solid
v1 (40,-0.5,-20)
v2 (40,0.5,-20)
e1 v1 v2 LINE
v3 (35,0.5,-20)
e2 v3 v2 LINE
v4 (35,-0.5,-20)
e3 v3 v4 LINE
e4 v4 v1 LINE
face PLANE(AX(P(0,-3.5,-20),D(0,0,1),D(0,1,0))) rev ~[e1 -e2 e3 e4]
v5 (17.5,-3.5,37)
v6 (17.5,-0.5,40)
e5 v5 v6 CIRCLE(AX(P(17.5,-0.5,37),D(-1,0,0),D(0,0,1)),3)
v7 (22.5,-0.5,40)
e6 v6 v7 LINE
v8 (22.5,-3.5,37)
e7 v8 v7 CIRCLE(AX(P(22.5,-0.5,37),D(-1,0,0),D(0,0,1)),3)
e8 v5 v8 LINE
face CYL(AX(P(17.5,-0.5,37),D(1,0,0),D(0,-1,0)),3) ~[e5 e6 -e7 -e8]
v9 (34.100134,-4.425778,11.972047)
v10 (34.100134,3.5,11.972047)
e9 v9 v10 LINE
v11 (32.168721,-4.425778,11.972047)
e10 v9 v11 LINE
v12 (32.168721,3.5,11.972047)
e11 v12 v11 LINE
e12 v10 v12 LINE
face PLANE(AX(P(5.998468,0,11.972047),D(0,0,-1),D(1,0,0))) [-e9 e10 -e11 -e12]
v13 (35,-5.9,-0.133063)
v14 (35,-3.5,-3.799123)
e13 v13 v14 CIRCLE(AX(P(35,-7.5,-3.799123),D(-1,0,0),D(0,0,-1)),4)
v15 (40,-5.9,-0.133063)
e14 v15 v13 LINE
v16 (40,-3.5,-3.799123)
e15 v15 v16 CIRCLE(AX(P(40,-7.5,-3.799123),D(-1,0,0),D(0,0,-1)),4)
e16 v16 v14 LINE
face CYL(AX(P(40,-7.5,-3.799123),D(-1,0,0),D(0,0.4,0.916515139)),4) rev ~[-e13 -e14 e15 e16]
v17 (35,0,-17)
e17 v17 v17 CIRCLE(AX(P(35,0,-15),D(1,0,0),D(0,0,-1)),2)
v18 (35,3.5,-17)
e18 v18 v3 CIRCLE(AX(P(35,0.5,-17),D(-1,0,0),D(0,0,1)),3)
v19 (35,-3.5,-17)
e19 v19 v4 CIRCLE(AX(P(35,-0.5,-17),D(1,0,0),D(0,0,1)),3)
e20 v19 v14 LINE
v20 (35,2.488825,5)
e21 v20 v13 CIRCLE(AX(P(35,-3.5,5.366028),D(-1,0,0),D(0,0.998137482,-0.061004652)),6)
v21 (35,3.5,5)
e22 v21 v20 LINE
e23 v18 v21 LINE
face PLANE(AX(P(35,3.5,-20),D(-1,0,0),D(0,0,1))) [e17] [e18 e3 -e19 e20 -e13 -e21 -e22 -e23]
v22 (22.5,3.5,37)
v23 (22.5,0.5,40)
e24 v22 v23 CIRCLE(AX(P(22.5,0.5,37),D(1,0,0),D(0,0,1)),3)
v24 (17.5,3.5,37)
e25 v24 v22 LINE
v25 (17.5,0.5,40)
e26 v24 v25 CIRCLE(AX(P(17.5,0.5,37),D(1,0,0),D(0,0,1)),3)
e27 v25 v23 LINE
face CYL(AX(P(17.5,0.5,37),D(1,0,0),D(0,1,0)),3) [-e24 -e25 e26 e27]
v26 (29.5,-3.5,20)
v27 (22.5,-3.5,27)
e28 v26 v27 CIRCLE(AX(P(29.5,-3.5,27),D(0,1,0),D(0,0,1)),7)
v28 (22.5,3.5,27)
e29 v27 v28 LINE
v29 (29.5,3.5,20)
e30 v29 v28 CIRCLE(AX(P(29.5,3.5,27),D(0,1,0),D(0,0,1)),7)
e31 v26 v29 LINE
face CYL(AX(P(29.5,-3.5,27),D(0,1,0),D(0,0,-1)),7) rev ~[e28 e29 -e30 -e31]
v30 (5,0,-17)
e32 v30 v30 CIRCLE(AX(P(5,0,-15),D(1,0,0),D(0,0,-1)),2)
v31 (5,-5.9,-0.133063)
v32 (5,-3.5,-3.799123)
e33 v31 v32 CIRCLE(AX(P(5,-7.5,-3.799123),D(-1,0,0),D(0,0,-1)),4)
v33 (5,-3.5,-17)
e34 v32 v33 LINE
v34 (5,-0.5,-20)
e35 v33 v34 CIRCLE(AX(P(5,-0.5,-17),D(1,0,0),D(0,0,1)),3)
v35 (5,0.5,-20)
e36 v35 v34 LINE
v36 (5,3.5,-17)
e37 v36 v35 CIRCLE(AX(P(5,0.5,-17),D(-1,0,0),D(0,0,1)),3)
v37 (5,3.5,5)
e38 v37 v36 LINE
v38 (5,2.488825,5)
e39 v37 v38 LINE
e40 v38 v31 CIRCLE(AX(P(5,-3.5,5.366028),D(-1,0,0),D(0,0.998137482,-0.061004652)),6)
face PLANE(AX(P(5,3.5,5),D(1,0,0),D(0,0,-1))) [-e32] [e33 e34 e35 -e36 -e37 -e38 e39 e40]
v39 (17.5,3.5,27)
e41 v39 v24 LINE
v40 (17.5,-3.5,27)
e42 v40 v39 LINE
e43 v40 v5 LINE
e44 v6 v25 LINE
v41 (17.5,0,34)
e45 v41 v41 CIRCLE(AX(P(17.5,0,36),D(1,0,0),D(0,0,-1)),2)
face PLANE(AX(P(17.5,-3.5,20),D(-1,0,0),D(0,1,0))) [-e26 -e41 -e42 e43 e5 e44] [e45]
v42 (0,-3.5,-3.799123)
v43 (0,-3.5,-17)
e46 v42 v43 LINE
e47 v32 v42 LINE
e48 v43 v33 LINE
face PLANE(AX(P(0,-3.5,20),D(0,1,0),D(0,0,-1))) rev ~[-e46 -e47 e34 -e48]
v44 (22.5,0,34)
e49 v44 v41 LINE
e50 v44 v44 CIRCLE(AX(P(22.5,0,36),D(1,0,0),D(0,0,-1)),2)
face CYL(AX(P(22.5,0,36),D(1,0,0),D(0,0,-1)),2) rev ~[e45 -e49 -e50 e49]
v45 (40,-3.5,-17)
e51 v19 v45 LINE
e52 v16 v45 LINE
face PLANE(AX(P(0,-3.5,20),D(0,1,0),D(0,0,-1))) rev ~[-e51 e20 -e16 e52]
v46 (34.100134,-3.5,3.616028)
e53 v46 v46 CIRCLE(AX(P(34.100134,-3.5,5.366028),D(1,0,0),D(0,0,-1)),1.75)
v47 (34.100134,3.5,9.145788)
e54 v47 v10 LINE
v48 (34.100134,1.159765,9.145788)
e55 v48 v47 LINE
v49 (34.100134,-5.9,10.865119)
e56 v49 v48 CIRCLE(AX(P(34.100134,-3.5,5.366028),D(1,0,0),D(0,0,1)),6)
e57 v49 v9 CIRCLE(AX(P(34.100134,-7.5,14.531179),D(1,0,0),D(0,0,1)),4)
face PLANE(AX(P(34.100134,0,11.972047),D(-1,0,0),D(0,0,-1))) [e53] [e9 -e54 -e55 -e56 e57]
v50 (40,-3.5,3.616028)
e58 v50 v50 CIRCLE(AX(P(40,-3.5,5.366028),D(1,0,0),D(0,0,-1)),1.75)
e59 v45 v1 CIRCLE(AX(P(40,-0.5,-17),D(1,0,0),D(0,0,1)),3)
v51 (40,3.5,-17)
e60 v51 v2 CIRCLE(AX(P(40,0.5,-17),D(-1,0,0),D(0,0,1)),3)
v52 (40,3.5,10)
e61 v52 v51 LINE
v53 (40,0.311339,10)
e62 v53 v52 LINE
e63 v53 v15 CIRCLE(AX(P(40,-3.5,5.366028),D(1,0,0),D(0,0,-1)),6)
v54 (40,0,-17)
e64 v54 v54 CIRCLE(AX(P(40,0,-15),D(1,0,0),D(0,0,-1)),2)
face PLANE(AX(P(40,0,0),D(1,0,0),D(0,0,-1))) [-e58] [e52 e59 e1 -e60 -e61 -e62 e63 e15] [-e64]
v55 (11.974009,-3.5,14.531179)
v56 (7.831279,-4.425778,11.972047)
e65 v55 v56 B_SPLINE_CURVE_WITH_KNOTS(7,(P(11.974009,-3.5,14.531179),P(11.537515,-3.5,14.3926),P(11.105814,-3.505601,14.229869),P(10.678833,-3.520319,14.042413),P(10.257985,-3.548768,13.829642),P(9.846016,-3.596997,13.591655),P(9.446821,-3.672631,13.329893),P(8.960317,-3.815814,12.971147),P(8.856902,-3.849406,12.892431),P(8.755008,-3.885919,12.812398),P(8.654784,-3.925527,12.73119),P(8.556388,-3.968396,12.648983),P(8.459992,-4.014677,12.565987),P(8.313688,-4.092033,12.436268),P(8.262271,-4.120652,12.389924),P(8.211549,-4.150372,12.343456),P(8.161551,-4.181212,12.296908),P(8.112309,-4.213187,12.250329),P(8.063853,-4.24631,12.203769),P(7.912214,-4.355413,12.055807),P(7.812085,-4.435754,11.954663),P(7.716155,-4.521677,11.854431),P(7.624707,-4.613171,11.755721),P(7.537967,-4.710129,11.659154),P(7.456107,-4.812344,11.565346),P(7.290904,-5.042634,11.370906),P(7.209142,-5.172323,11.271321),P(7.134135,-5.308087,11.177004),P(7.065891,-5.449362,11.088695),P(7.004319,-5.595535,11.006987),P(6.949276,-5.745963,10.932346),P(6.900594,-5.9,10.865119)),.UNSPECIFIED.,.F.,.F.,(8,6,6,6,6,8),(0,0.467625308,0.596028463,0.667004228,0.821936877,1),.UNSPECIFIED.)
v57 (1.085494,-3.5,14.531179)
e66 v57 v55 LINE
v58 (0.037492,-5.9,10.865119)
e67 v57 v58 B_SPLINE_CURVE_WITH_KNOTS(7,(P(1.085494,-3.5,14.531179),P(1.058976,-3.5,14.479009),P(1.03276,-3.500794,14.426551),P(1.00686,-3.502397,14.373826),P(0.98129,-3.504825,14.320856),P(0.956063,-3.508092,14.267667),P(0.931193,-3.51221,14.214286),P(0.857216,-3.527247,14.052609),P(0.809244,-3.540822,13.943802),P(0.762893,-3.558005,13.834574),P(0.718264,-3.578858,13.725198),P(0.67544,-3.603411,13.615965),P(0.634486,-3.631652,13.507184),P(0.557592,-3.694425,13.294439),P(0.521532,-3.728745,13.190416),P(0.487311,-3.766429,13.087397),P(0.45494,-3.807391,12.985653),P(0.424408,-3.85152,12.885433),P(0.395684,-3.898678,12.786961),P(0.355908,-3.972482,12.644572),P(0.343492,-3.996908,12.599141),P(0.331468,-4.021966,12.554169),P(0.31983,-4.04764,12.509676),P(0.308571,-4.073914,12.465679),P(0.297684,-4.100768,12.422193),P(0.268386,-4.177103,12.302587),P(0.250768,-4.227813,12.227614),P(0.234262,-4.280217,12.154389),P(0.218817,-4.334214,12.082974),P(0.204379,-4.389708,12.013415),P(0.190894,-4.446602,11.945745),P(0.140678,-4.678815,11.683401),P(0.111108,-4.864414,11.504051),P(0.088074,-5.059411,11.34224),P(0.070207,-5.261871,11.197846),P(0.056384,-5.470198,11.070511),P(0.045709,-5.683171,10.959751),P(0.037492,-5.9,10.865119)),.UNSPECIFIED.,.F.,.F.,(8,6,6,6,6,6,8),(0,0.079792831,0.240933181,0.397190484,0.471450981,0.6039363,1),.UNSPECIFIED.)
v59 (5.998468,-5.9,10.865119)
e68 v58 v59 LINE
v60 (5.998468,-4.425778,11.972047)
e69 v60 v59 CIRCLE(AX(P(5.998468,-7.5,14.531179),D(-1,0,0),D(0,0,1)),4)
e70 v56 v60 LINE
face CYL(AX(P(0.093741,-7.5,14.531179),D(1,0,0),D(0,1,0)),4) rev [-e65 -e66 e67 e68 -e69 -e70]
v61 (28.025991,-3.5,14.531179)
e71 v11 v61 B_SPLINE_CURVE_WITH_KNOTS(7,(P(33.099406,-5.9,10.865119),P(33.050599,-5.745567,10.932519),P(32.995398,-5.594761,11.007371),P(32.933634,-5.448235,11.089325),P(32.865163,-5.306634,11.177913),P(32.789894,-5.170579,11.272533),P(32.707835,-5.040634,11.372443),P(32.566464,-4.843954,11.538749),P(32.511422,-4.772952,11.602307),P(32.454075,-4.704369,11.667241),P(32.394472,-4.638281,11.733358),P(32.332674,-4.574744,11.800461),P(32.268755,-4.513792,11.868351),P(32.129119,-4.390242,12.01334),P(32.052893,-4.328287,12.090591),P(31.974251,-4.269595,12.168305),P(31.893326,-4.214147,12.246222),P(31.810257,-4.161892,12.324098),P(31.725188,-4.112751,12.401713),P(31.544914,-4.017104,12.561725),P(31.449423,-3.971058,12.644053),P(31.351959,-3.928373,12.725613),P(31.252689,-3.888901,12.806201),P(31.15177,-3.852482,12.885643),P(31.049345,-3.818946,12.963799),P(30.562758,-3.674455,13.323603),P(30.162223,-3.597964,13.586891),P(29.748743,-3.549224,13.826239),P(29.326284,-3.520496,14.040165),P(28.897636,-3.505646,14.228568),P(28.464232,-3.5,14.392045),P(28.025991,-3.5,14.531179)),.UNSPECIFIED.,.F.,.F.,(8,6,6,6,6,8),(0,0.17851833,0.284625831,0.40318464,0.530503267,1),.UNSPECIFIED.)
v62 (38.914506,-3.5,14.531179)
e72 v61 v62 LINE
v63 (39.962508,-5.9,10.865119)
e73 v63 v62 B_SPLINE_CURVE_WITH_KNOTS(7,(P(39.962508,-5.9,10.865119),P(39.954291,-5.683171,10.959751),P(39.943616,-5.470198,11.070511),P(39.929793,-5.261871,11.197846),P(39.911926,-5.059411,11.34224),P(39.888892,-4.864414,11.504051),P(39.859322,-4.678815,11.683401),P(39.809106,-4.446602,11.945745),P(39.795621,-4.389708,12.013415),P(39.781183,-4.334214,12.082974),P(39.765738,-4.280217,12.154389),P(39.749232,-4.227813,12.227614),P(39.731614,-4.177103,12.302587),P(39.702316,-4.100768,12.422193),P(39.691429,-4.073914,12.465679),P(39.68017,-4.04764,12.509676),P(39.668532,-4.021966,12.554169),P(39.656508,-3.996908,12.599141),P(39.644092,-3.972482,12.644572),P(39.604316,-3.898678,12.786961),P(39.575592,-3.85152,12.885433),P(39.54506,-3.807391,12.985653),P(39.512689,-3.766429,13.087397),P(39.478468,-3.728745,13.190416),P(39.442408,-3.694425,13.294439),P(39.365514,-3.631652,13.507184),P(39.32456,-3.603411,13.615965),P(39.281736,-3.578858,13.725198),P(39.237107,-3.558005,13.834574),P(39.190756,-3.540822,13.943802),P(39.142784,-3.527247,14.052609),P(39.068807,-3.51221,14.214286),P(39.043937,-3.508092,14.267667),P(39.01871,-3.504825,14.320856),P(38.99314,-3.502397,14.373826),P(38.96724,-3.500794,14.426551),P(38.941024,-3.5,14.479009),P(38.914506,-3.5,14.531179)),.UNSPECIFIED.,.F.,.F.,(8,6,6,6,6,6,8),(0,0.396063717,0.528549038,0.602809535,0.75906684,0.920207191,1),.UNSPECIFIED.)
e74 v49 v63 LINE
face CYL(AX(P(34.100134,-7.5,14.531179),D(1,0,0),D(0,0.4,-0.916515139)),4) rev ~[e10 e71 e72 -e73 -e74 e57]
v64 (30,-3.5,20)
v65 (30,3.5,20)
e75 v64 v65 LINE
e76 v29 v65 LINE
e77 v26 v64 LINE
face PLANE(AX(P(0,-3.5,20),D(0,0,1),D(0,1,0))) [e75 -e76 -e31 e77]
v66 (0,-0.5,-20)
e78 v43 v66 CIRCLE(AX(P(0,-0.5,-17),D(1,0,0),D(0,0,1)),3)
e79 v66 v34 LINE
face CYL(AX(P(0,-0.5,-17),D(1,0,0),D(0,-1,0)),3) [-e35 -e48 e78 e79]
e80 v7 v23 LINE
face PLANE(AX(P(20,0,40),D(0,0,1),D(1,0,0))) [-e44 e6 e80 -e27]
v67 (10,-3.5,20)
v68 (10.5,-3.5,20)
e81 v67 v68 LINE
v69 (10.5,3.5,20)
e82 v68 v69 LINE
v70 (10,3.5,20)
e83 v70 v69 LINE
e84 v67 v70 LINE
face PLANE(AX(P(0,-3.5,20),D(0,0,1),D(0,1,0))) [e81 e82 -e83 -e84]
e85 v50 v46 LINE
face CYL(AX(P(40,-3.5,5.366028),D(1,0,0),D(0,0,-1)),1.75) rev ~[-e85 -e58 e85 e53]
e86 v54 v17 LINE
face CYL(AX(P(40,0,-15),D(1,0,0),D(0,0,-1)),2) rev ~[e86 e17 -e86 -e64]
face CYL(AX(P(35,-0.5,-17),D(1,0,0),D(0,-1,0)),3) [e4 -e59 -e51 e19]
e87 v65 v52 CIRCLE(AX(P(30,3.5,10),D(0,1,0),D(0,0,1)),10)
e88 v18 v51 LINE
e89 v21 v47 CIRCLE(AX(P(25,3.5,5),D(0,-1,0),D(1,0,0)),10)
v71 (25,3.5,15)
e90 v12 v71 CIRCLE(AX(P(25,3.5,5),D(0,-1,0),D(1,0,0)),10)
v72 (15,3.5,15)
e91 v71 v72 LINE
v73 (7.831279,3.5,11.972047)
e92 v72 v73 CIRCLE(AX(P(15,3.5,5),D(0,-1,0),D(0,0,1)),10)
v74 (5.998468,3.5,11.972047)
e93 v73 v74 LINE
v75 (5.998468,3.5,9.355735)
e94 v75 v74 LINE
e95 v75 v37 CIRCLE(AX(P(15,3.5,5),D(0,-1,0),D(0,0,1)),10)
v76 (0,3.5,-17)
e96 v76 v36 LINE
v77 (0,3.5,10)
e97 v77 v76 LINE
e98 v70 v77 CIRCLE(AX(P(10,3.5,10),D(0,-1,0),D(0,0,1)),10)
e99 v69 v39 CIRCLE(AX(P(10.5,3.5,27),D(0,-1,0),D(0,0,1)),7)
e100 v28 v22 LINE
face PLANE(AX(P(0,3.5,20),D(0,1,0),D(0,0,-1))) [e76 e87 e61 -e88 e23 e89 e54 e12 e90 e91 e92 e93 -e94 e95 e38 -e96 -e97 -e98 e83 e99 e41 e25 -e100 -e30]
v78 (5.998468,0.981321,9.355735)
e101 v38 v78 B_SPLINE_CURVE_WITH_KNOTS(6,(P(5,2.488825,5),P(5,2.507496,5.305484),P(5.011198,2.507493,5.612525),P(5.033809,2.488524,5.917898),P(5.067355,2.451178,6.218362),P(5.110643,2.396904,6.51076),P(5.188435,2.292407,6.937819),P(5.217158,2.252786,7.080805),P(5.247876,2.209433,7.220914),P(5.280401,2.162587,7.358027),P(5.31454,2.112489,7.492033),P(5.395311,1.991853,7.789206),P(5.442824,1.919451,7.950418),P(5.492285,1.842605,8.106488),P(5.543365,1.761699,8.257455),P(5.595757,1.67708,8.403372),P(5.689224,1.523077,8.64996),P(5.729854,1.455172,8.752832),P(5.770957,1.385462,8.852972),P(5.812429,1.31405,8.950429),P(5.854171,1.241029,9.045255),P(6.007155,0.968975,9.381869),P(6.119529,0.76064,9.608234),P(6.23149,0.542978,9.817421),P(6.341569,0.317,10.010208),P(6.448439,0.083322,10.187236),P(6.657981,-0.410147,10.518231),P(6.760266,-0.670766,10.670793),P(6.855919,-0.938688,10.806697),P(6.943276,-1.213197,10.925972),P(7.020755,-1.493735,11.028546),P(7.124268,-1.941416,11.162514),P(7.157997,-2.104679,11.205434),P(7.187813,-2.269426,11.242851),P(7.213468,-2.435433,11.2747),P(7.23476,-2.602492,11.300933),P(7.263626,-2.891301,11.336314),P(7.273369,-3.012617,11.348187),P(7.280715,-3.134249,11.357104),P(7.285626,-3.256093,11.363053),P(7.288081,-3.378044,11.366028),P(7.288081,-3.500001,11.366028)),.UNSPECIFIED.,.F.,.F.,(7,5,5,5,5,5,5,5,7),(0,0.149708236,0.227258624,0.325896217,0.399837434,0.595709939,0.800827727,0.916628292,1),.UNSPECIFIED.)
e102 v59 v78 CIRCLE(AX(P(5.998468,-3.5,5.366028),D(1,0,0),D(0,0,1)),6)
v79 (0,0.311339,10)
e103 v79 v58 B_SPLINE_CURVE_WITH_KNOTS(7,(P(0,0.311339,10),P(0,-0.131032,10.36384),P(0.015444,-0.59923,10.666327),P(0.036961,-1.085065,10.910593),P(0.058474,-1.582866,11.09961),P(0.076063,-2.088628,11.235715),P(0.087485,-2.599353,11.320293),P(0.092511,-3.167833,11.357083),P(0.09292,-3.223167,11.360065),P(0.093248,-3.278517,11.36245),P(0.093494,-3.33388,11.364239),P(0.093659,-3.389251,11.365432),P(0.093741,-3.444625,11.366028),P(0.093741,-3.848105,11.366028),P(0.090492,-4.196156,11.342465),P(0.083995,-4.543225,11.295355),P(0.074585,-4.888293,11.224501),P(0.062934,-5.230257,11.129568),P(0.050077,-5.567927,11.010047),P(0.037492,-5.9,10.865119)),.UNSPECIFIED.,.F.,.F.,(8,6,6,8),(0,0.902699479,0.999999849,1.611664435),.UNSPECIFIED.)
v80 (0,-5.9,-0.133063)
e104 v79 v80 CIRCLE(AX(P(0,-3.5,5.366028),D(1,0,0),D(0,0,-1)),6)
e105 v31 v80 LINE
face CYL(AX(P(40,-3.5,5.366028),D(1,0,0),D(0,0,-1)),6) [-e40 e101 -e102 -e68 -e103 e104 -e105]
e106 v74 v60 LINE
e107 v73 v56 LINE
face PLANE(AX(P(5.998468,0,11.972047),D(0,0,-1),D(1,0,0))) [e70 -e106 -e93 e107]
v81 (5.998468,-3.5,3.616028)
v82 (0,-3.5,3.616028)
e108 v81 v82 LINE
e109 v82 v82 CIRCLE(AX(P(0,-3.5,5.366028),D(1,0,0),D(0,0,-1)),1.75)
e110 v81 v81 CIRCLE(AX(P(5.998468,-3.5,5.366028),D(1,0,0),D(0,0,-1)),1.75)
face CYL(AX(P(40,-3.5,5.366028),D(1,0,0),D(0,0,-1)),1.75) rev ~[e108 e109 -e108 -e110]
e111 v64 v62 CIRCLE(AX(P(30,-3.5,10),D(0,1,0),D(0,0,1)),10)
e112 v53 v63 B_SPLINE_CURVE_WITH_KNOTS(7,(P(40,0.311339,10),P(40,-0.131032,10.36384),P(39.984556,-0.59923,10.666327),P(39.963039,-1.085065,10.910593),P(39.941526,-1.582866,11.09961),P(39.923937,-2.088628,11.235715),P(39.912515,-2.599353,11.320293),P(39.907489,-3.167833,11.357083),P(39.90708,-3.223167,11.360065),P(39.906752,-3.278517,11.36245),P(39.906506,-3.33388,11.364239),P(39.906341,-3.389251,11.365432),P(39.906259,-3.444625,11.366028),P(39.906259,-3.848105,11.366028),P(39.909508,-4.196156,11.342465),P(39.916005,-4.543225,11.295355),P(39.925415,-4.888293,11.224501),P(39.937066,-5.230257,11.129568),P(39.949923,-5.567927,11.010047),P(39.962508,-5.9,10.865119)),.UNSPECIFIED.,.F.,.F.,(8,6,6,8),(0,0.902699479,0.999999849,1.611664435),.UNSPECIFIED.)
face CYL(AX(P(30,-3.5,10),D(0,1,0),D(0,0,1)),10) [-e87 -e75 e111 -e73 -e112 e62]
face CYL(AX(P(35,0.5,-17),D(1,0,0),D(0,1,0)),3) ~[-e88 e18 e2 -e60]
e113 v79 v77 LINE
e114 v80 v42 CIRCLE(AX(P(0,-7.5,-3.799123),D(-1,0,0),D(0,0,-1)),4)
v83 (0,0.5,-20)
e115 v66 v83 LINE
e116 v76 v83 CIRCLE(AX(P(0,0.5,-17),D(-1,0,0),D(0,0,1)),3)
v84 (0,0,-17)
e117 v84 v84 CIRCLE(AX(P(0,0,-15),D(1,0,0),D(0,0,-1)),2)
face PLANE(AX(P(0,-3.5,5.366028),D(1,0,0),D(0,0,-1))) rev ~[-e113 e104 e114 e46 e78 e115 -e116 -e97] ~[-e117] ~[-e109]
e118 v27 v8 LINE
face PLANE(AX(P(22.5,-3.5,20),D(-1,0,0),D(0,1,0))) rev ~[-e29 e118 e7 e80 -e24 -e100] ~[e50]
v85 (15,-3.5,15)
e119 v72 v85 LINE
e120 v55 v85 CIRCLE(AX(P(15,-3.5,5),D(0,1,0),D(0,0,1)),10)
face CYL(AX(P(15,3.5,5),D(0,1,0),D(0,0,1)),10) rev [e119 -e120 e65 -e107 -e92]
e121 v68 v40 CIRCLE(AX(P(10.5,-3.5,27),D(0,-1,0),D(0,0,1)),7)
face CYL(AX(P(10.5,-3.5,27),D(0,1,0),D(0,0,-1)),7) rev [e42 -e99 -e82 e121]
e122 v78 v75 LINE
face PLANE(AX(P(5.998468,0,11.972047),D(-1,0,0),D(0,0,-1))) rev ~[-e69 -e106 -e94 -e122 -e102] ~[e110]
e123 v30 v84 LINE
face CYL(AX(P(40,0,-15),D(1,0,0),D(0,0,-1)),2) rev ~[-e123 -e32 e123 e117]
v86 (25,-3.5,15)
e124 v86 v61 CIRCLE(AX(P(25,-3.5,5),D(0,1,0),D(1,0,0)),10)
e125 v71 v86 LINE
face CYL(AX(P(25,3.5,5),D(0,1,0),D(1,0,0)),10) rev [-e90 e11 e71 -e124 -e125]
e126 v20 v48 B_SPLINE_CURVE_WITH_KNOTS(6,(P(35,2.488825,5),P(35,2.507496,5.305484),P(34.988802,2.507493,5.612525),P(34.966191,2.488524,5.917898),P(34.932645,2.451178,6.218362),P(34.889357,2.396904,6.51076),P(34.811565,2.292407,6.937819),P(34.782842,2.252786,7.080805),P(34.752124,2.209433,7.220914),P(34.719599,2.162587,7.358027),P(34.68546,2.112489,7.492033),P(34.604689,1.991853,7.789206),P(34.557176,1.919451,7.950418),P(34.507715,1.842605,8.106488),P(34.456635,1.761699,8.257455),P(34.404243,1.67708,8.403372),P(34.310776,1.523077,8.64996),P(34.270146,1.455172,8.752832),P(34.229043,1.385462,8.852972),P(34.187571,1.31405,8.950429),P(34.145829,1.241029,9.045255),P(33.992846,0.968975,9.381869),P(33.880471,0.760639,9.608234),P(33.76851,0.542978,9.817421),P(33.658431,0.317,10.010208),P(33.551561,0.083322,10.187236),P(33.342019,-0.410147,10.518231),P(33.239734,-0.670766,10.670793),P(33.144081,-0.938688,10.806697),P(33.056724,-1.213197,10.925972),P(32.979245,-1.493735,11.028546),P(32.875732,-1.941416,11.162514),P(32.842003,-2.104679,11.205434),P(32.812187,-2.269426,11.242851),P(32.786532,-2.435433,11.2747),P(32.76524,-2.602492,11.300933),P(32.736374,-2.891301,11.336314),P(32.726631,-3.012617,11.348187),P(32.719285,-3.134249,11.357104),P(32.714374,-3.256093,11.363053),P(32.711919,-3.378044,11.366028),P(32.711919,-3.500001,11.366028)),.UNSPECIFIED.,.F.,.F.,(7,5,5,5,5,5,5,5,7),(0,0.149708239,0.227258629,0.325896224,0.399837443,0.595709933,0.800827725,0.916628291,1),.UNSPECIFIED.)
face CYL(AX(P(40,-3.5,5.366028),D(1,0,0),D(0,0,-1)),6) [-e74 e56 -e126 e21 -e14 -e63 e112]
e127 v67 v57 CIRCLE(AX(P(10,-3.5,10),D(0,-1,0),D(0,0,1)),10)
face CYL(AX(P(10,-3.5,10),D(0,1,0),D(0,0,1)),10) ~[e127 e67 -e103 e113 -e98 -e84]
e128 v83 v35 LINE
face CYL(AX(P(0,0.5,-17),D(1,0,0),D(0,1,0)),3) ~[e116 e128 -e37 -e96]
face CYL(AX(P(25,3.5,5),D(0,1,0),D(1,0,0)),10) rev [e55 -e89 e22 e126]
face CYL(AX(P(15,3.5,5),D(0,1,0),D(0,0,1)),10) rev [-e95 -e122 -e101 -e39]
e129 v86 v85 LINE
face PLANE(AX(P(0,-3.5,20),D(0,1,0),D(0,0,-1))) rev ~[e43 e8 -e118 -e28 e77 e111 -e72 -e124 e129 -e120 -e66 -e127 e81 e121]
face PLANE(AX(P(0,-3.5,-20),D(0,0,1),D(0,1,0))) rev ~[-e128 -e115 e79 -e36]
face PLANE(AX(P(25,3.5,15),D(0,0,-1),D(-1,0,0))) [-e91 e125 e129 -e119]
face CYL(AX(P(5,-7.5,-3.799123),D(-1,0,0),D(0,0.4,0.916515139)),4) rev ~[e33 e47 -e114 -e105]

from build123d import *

# Parameters (mm, degrees)
SKETCH1_W               = 40
SKETCH1_H               = 7
BOSS_EXTRUDE1_DEPTH     = 40
CUT_EXTRUDE1_DEPTH      = 8
FILLET1_R               = 10
SKETCH5_W               = 5
SKETCH5_H               = 7
BOSS_EXTRUDE2_DEPTH     = 20
FILLET2_R               = 7
FILLET3_R               = 3
SKETCH6_R               = 2
CUT_EXTRUDE2_DEPTH      = 41
SKETCH7_R               = 2
CUT_EXTRUDE3_DEPTH      = 23.5
SKETCH8_R               = 6
BOSS_EXTRUDE3_DEPTH     = 40
SKETCH9_W               = 28.10166571
SKETCH9_H               = 14.198736358
CUT_EXTRUDE4_DEPTH      = 4.5000001
CUT_EXTRUDE4_DEPTH_BACK = 10.5000001
SKETCH10_R              = 1.75
CUT_EXTRUDE5_DEPTH      = 41.0000001
FILLET4_R               = 4


with BuildPart() as part:
    # Sketch1 → Boss-Extrude1 (new body)
    with BuildSketch(Plane(origin=(0, 0, 0), x_dir=(0, 0, -1), z_dir=(1, 0, 0))):
        Rectangle(SKETCH1_W, SKETCH1_H)
    extrude(amount=BOSS_EXTRUDE1_DEPTH)

    # Sketch2 → Cut-Extrude1 (cut, through all)
    with BuildSketch(Plane(origin=(0, 3.5, 0), x_dir=(1, 0, 0), z_dir=(0, 1, 0))):
        with BuildLine():
            Line((5, 20), (35, 20))
            Line((35, 20), (35, -5))
            ThreePointArc((35, -5), (32.071067812, -12.071067812), (25, -15))
            Line((25, -15), (15, -15))
            ThreePointArc((15, -15), (7.928932188, -12.071067812), (5, -5))
            Line((5, -5), (5, 20))
        make_face()
    extrude(amount=-CUT_EXTRUDE1_DEPTH, mode=Mode.SUBTRACT)

    # Fillet1
    fillet1_edges = [part.edges().sort_by_distance(p)[0] for p in [
        (40, 0, 20),
        (0, 0, 20),
    ]]
    fillet(fillet1_edges, radius=FILLET1_R)

    # Sketch5 → Boss-Extrude2 (add)
    with BuildSketch(Plane.XY.offset(20)):
        with Locations((20, 0)):
            Rectangle(SKETCH5_W, SKETCH5_H)
    extrude(amount=BOSS_EXTRUDE2_DEPTH)

    # Fillet2
    fillet2_edges = [part.edges().sort_by_distance(p)[0] for p in [
        (17.5, 0, 20),
        (22.5, 0, 20),
    ]]
    fillet(fillet2_edges, radius=FILLET2_R)

    # Fillet3
    fillet3_edges = [part.edges().sort_by_distance(p)[0] for p in [
        (2.5, -3.5, -20),
        (2.5, 3.5, -20),
        (20, -3.5, 40),
        (20, 3.5, 40),
        (37.5, -3.5, -20),
        (37.5, 3.5, -20),
    ]]
    fillet(fillet3_edges, radius=FILLET3_R)

    # Sketch6 → Cut-Extrude2 (cut, through all)
    with BuildSketch(Plane(origin=(40, 0, 0), x_dir=(0, 0, -1), z_dir=(1, 0, 0))):
        with Locations((15, 0)):
            Circle(SKETCH6_R)
    extrude(amount=-CUT_EXTRUDE2_DEPTH, mode=Mode.SUBTRACT)

    # Sketch7 → Cut-Extrude3 (cut, through all)
    with BuildSketch(Plane(origin=(22.5, 0, 0), x_dir=(0, 0, -1), z_dir=(1, 0, 0))):
        with Locations((-36, 0)):
            Circle(SKETCH7_R)
    extrude(amount=-CUT_EXTRUDE3_DEPTH, mode=Mode.SUBTRACT)

    # Sketch8 → Boss-Extrude3 (add)
    with BuildSketch(Plane(origin=(40, 0, 0), x_dir=(0, 0, -1), z_dir=(1, 0, 0))):
        with Locations((-5.366027913, -3.5)):
            Circle(SKETCH8_R)
    extrude(amount=-BOSS_EXTRUDE3_DEPTH)

    # Sketch9 → Cut-Extrude4 (cut, two sides)
    with BuildSketch(Plane(origin=(0, 0, 0), x_dir=(1, 0, 0), z_dir=(0, 1, 0))) as cut_extrude4_sk:
        with Locations((20.049301168, -4.872678537)):
            Rectangle(SKETCH9_W, SKETCH9_H)
    extrude(amount=CUT_EXTRUDE4_DEPTH, mode=Mode.SUBTRACT)
    extrude(cut_extrude4_sk.sketch, amount=-CUT_EXTRUDE4_DEPTH_BACK, mode=Mode.SUBTRACT)

    # Sketch10 → Cut-Extrude5 (cut, through all)
    with BuildSketch(Plane(origin=(40, 0, 0), x_dir=(0, 0, -1), z_dir=(1, 0, 0))):
        with Locations((-5.366027913, -3.5)):
            Circle(SKETCH10_R)
    extrude(amount=-CUT_EXTRUDE5_DEPTH, mode=Mode.SUBTRACT)

    # Fillet4
    fillet4_edges = [part.edges().sort_by_distance(p)[0] for p in [
        (37.5, -3.5, -0.633972087),
        (2.5, -3.5, -0.633972087),
        (3.046104647, -3.5, 11.366027913),
        (37.00319652, -3.5, 11.366027913),
    ]]
    fillet(fillet4_edges, radius=FILLET4_R)


solid = part.part
